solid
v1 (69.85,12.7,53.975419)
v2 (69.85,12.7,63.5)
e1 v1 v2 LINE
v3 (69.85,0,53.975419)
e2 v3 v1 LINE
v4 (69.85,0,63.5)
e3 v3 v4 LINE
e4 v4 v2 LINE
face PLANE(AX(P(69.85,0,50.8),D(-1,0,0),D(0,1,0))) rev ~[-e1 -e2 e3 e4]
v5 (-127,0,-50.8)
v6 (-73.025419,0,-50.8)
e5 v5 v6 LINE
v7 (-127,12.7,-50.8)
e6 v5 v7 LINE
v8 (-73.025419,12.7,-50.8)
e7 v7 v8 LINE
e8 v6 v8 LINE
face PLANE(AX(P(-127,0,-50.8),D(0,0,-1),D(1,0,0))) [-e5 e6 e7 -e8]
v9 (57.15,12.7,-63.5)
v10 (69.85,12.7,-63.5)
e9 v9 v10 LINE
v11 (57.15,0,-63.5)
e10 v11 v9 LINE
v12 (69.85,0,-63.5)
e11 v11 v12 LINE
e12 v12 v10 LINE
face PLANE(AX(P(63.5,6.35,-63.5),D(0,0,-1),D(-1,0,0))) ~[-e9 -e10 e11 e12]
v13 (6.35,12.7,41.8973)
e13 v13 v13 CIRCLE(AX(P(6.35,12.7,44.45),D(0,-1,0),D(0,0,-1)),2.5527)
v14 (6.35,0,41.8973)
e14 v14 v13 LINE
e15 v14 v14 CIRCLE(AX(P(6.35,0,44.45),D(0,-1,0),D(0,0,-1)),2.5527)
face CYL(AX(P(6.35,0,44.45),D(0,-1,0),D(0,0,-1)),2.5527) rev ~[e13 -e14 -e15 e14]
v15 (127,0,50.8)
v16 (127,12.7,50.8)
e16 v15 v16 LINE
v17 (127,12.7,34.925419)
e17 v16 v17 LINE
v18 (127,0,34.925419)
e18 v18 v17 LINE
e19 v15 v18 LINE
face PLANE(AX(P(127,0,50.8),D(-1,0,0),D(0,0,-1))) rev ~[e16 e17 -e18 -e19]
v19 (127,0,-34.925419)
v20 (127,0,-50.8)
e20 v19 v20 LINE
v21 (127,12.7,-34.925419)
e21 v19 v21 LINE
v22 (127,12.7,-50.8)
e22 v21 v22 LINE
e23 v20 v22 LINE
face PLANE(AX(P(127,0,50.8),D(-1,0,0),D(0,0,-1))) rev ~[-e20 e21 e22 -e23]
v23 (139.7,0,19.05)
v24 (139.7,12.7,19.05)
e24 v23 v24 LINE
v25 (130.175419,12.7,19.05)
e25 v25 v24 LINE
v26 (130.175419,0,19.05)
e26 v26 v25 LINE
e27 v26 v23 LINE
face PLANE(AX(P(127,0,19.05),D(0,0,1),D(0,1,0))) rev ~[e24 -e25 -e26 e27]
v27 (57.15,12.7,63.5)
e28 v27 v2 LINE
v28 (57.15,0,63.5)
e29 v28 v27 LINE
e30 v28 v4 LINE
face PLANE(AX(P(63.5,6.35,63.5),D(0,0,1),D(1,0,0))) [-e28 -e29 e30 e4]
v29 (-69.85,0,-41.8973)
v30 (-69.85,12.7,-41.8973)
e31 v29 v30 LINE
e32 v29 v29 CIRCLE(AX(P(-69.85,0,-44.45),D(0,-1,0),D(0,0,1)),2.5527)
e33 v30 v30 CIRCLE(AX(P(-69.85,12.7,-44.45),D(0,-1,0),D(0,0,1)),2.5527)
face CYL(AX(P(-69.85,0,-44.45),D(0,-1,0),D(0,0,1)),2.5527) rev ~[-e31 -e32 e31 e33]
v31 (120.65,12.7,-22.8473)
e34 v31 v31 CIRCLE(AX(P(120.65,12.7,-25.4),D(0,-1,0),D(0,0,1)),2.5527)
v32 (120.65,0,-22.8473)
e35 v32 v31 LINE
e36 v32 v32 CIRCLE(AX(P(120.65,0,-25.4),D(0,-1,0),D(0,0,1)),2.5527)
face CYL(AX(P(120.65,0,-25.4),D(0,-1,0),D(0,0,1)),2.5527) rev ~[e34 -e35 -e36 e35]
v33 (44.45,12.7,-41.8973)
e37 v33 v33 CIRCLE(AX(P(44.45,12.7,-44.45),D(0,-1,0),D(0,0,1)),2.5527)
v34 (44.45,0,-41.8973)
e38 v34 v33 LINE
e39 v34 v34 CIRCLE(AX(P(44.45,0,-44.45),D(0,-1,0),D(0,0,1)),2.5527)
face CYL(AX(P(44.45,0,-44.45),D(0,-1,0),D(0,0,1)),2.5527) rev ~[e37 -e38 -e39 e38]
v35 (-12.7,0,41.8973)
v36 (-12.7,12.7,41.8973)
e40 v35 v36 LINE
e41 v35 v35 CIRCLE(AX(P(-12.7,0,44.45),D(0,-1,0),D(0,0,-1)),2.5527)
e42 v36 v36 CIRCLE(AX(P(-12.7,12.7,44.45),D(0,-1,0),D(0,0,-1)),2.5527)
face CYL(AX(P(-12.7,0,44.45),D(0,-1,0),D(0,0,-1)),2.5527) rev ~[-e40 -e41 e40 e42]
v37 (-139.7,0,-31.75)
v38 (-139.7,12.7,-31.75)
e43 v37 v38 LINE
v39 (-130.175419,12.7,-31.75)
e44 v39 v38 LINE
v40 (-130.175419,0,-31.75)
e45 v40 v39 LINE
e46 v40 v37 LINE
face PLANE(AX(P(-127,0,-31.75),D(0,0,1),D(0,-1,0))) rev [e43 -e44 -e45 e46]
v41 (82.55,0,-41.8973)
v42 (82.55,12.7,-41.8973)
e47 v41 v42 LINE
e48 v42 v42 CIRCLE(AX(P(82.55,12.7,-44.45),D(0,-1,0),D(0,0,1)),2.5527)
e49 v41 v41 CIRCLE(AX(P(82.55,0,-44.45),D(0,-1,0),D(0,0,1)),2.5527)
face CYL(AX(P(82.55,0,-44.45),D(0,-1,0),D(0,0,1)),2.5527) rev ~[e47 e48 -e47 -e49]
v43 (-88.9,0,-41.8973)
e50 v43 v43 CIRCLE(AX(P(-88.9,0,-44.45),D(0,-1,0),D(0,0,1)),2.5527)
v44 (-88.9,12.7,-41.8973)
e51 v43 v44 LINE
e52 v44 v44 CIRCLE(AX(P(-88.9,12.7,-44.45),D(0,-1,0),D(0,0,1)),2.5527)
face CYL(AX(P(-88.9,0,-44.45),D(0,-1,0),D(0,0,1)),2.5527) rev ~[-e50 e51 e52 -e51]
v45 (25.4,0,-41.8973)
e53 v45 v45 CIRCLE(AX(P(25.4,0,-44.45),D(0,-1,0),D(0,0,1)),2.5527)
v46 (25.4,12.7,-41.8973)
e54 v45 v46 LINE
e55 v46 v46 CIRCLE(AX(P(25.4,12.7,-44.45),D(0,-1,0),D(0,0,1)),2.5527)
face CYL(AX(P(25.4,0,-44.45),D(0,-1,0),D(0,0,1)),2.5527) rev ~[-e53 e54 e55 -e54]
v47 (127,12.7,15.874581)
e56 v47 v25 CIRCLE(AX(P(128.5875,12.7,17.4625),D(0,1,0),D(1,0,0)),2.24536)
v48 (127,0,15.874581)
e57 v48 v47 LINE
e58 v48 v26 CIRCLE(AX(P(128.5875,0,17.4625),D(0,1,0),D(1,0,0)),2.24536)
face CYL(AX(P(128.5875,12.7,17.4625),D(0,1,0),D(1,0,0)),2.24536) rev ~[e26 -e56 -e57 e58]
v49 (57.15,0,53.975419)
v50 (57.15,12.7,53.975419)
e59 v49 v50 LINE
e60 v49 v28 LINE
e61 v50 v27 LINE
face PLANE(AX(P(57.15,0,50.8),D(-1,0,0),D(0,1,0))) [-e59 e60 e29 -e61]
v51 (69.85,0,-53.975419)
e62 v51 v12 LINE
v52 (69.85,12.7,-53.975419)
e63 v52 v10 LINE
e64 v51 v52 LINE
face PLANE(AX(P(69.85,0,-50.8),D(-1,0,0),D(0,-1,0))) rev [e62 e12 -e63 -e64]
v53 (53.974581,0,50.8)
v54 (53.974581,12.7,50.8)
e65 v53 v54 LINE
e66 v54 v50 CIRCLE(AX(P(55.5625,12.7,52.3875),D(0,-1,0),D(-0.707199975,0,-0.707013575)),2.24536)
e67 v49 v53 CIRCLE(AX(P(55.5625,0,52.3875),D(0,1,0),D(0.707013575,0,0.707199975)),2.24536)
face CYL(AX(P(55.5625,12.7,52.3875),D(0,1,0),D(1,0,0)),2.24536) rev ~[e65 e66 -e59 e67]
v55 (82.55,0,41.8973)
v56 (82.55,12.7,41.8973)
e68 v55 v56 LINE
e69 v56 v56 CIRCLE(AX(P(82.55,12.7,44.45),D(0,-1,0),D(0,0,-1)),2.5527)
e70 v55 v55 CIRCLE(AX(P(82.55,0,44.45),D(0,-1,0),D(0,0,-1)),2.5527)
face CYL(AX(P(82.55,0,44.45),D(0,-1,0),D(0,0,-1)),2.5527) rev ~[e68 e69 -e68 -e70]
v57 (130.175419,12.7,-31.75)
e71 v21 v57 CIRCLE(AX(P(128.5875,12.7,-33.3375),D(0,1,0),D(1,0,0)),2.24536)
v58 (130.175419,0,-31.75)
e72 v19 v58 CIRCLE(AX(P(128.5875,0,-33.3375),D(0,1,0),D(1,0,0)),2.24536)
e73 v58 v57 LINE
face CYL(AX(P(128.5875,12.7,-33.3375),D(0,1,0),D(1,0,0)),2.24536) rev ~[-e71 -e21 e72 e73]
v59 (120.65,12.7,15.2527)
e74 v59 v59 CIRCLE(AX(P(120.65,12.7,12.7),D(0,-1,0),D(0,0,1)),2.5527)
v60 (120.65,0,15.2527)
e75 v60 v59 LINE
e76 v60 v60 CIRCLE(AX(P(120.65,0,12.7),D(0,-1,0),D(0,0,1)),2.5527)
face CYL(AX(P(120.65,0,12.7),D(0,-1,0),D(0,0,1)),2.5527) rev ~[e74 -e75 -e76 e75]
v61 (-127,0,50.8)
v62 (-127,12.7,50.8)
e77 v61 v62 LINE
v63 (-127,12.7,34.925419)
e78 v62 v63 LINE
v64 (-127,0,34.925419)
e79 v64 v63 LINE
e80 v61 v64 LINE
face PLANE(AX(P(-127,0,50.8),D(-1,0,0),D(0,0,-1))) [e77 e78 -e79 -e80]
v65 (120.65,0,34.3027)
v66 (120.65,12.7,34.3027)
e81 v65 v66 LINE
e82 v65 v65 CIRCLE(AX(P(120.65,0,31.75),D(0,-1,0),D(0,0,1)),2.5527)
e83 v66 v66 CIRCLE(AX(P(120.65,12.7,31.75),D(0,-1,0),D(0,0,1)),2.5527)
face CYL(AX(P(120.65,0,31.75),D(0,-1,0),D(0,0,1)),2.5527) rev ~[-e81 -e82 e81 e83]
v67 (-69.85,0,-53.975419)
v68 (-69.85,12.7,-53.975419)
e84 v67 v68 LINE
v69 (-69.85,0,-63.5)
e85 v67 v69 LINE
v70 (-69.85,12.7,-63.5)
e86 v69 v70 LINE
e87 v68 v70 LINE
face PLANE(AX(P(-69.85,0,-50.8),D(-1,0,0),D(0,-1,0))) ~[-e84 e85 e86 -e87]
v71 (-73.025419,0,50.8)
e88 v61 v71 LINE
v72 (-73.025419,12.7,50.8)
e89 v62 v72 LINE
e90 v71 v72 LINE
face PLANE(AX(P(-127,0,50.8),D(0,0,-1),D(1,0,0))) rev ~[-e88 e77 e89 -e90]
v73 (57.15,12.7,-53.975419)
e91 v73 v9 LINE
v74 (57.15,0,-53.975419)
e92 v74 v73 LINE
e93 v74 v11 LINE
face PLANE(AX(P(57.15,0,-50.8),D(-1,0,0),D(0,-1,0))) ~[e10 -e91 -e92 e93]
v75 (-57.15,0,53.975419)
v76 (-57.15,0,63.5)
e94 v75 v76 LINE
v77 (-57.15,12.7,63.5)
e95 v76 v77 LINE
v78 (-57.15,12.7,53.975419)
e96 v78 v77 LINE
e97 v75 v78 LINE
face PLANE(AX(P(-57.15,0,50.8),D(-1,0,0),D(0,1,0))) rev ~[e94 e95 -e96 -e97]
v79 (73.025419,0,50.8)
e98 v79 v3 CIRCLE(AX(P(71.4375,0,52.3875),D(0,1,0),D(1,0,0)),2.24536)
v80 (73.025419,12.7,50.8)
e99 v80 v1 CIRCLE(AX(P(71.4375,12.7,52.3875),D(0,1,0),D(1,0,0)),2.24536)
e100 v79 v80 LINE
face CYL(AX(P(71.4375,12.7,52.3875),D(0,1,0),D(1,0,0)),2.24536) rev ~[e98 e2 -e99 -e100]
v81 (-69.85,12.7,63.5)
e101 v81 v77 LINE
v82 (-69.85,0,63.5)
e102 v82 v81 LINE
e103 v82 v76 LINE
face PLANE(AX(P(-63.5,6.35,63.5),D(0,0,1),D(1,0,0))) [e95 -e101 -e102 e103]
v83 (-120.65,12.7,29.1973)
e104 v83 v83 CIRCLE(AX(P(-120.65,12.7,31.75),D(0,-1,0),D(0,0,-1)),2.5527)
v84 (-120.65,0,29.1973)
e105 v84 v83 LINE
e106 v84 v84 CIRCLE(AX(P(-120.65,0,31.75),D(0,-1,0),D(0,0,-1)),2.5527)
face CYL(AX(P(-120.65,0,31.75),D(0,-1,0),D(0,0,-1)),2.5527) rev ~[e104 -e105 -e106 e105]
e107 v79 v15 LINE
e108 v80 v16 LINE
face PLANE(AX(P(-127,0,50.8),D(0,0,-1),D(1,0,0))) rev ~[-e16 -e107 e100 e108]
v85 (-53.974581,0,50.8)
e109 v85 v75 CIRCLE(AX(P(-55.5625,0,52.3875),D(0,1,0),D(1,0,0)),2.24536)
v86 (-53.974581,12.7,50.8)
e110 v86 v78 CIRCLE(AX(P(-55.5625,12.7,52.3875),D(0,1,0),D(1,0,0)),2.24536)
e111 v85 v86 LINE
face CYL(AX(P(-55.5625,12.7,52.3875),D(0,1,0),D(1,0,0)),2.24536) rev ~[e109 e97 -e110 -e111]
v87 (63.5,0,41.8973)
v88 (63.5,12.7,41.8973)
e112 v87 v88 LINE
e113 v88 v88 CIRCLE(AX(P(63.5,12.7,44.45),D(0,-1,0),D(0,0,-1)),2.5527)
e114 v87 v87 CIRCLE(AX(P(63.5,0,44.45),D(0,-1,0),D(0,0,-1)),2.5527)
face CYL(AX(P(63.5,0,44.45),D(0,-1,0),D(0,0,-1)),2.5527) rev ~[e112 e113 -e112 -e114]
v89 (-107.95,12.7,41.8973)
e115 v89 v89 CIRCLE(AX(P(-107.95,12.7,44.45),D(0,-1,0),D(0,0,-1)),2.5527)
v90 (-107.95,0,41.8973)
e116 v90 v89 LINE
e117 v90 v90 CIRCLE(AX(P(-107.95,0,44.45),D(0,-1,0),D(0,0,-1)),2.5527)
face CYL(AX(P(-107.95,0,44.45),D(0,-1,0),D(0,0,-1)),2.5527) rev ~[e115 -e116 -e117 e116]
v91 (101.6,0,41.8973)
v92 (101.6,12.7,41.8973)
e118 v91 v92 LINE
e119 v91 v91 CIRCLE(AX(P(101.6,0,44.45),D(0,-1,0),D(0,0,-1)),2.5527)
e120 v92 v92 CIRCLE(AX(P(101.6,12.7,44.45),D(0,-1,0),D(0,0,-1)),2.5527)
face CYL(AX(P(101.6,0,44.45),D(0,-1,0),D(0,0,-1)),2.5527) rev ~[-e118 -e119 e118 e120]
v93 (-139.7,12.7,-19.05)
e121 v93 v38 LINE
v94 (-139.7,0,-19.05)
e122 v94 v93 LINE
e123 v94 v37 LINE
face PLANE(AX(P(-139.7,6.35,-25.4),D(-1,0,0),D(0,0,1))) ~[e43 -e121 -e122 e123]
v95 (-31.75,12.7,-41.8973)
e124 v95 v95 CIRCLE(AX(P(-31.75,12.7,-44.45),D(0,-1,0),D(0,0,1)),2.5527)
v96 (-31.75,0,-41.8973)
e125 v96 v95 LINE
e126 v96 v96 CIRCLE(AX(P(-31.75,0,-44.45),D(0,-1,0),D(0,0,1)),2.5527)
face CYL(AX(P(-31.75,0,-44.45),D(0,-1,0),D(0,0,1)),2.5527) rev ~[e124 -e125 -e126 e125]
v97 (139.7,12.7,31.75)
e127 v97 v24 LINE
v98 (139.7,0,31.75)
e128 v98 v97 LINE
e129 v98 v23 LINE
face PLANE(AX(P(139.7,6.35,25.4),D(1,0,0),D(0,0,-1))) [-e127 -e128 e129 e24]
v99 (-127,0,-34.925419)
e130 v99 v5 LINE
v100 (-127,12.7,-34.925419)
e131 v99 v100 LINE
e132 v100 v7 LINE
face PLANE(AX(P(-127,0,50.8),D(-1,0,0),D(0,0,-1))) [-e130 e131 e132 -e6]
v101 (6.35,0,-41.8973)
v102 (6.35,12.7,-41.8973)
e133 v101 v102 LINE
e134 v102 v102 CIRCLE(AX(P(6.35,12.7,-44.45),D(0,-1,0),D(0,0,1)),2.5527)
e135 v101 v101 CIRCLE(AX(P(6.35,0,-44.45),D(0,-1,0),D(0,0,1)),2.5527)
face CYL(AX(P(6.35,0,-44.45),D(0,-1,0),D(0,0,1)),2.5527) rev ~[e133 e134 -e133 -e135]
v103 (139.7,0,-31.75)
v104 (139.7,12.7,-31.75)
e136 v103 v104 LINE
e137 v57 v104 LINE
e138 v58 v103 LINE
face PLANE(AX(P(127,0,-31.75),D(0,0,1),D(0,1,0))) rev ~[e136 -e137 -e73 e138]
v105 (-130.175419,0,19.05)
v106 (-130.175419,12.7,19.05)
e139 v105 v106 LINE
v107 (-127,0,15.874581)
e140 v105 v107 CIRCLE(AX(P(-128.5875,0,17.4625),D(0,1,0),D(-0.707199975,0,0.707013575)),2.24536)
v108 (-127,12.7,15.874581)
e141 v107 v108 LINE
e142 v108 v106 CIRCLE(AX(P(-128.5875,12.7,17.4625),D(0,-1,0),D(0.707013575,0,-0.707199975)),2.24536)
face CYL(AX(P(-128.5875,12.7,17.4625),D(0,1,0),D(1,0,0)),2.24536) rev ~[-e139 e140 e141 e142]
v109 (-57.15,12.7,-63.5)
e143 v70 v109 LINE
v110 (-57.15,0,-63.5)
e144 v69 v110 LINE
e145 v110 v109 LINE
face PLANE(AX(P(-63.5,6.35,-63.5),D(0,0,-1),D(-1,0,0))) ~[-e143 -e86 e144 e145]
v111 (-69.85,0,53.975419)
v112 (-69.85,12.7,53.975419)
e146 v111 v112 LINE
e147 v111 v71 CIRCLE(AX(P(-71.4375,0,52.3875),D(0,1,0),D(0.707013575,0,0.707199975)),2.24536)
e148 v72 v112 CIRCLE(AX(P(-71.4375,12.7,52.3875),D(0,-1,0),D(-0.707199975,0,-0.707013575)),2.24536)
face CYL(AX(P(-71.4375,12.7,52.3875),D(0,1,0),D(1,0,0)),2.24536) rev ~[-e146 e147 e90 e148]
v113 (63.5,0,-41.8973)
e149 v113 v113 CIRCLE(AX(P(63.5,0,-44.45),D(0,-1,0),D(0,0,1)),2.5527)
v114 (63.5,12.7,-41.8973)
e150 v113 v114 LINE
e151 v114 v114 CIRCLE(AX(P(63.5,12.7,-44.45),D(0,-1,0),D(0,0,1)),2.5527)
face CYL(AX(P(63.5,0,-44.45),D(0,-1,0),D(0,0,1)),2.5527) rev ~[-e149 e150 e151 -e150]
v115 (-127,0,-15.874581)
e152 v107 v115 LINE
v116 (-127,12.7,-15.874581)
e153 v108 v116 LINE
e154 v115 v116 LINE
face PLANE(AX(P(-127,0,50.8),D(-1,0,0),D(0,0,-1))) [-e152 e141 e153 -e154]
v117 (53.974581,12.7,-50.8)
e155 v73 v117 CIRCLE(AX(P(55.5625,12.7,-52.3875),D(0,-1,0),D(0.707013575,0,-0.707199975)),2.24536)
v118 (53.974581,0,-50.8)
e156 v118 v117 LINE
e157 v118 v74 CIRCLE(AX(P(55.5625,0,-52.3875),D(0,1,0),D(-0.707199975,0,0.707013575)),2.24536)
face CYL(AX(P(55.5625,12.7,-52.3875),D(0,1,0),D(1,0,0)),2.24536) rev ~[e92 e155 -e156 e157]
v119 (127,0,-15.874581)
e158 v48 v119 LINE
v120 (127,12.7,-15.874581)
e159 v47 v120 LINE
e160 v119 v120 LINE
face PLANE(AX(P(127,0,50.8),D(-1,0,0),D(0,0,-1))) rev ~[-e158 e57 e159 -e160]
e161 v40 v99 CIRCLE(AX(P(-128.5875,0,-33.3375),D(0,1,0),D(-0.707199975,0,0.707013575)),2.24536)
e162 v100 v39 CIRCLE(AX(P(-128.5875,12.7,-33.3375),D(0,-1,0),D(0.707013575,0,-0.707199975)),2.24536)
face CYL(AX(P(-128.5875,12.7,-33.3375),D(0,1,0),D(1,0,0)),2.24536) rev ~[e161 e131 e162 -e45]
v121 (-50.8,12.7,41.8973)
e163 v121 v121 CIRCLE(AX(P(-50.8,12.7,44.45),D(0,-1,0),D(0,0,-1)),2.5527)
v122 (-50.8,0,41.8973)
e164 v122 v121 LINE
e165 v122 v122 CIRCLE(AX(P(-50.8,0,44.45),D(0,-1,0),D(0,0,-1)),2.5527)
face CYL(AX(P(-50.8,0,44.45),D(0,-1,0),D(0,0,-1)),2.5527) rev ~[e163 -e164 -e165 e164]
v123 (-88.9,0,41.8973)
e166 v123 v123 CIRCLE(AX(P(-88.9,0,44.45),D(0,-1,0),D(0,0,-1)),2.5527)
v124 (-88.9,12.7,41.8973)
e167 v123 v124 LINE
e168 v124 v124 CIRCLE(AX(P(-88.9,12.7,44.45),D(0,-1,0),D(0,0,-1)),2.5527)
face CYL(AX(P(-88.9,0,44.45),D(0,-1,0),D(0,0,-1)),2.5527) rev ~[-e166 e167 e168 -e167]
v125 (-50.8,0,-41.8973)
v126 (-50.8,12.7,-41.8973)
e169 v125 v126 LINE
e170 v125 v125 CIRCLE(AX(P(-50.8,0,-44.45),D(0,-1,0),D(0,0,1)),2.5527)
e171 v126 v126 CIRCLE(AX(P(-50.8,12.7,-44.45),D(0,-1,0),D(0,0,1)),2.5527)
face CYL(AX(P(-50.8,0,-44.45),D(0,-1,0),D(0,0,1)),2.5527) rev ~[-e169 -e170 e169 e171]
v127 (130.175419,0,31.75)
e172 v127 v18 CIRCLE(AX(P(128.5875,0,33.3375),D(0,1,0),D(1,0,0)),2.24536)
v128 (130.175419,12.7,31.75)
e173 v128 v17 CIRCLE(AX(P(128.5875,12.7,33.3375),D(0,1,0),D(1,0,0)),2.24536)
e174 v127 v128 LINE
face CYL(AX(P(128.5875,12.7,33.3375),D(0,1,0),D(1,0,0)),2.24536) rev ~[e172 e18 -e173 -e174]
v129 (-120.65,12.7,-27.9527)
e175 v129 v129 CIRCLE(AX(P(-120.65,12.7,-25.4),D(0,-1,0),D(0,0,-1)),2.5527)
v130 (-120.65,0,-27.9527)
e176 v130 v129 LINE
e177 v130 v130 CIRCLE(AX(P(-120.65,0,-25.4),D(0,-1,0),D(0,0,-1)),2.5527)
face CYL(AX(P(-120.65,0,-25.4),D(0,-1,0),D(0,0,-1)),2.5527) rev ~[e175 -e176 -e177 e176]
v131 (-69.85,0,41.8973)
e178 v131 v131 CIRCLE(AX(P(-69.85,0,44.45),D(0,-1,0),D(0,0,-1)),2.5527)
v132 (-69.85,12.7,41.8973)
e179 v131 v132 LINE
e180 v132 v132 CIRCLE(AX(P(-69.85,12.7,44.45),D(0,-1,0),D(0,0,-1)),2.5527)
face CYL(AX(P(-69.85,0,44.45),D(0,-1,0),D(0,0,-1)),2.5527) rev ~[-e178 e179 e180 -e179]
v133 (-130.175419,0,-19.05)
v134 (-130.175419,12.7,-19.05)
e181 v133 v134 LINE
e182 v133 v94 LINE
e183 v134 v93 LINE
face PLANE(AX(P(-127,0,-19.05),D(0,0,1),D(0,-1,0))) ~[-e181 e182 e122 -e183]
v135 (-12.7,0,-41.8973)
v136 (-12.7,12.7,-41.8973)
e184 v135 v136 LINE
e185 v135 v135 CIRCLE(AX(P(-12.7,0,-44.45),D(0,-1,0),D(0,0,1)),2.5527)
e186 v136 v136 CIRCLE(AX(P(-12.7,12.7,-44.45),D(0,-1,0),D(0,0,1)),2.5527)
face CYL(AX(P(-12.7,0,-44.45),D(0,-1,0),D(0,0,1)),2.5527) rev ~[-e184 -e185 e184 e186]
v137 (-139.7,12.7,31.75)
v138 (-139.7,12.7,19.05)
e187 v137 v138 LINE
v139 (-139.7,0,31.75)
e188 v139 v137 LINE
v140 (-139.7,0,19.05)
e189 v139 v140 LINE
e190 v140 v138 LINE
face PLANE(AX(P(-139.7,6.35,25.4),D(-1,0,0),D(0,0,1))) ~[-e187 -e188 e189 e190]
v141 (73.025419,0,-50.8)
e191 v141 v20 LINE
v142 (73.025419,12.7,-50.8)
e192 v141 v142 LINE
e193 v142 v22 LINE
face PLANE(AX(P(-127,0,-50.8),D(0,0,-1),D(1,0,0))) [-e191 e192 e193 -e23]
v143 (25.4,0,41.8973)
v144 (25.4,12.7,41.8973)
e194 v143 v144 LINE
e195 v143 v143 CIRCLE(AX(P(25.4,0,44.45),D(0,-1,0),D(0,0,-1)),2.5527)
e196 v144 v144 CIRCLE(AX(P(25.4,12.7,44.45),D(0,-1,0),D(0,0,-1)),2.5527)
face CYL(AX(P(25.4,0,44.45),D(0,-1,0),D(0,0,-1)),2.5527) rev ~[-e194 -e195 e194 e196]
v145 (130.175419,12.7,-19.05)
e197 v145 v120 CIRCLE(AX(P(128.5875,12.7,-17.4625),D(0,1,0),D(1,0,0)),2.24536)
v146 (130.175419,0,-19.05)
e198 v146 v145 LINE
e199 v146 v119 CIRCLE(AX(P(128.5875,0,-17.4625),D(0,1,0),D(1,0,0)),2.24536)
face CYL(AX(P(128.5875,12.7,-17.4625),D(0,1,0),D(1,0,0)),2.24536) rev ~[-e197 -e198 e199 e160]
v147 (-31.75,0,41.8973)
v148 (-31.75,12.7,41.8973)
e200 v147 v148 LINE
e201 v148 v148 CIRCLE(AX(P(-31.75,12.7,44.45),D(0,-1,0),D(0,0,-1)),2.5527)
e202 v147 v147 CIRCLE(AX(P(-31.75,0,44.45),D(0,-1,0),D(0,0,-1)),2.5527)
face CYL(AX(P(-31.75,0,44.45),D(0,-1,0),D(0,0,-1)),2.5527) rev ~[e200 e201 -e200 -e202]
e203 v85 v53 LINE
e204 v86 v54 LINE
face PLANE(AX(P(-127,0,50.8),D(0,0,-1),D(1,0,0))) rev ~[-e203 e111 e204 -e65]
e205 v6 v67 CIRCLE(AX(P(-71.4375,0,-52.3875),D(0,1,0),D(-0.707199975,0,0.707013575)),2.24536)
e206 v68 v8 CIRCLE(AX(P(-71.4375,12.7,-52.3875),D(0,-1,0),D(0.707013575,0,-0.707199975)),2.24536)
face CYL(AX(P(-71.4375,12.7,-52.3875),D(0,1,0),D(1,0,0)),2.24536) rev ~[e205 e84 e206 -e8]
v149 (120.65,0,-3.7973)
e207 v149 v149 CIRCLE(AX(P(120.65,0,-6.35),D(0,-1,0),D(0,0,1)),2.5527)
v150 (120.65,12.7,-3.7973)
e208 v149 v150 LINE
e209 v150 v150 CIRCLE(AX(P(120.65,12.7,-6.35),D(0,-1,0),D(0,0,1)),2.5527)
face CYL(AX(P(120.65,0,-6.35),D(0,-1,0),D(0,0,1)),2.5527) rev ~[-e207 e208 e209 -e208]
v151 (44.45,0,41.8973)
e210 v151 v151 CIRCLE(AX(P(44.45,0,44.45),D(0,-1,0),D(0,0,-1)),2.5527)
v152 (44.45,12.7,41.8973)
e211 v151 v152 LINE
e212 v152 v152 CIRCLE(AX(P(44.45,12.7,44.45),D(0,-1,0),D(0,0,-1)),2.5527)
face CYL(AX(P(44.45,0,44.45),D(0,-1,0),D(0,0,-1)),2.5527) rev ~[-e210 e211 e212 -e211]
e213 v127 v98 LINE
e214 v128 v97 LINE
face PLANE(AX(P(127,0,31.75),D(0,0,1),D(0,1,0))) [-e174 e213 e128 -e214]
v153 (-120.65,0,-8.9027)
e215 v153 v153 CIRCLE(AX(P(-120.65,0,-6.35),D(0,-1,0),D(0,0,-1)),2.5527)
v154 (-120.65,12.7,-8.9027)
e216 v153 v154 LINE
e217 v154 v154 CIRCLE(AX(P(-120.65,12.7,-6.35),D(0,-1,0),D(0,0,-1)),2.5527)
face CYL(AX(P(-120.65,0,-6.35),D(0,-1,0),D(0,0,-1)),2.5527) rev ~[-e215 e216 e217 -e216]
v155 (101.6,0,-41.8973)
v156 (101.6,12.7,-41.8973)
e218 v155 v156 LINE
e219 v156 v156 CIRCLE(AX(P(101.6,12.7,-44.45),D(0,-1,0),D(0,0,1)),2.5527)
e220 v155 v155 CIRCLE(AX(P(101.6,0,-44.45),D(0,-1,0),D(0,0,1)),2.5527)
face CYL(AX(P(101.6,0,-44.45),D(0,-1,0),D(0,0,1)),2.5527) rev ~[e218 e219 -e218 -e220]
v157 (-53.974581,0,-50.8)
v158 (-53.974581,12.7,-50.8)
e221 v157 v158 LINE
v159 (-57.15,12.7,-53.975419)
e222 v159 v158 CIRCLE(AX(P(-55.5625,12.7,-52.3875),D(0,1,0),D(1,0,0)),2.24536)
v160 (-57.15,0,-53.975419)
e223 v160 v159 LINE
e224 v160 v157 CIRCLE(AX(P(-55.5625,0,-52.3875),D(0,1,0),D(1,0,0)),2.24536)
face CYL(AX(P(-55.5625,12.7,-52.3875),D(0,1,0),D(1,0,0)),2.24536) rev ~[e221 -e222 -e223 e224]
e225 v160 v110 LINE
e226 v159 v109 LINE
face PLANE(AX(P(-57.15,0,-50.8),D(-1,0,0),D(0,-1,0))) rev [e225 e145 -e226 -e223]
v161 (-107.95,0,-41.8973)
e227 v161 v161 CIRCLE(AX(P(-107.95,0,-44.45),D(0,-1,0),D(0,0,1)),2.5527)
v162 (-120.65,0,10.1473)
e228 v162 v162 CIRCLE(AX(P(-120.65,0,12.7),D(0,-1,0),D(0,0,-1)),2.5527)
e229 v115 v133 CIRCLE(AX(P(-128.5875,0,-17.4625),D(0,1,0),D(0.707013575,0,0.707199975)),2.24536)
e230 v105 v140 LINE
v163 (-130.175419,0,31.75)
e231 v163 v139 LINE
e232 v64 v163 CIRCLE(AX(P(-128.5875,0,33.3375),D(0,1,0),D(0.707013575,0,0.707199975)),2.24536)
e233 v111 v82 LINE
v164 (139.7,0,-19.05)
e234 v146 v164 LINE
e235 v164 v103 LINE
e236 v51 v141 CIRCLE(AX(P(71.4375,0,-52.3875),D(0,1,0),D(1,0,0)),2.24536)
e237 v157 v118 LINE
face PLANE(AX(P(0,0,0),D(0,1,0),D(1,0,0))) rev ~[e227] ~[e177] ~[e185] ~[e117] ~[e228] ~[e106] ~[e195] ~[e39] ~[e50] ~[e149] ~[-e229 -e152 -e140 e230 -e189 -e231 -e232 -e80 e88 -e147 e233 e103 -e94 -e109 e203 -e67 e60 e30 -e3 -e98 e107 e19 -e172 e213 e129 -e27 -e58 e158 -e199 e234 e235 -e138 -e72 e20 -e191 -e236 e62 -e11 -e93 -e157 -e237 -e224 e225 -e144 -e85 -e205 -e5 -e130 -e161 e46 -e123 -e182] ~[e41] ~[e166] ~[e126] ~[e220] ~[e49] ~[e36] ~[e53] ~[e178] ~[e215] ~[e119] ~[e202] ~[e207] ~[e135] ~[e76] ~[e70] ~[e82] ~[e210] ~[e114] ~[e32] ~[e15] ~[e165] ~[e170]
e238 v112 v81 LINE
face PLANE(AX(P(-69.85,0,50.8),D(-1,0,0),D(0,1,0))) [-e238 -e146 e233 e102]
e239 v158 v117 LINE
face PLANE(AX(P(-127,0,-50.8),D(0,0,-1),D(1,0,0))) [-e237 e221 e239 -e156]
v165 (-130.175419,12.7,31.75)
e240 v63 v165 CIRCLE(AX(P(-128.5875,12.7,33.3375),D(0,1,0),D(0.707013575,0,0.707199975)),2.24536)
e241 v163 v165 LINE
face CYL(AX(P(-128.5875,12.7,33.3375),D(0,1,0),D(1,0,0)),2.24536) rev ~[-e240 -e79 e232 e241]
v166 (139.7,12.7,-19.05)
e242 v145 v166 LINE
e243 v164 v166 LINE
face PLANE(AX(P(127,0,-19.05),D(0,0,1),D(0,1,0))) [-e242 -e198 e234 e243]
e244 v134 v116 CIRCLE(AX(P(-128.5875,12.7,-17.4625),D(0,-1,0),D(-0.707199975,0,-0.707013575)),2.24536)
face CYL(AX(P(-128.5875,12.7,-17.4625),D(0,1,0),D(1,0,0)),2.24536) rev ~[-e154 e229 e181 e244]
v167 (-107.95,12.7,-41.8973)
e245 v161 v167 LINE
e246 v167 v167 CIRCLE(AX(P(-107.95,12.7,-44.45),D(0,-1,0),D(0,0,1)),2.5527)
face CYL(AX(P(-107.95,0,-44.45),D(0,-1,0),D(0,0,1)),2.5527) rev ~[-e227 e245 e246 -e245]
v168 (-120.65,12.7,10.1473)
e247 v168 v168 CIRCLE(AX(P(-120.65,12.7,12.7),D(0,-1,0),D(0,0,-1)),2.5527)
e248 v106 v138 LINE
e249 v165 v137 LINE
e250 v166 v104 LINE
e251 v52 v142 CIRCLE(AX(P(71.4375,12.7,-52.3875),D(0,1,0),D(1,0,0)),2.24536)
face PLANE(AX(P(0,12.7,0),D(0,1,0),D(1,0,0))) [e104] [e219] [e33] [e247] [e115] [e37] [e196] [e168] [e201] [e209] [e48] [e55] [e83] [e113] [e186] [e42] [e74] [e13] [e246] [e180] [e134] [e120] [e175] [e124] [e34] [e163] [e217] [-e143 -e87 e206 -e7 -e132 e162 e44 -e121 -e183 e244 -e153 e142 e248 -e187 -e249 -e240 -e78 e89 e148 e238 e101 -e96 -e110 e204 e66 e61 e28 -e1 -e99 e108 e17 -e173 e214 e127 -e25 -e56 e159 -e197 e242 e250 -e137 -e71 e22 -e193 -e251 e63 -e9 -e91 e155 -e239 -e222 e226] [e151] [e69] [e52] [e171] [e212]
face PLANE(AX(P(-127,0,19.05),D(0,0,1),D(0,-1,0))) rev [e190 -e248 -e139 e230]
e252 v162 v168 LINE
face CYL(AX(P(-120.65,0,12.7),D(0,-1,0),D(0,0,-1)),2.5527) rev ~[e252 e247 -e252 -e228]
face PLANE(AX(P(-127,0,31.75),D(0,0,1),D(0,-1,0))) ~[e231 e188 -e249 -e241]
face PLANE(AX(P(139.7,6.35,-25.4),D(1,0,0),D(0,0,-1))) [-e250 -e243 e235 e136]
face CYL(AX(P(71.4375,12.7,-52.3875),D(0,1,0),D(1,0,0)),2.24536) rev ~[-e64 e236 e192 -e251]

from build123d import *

# Parameters (mm, degrees)
SKETCH2_W                  = 254
SKETCH2_H                  = 101.6
RECTANGLE_EXTRUSION_DEPTH  = 12.7
SKETCH4_W                  = 12.7
SKETCH4_H                  = 12.7
FRONT_FACE_TABS_DEPTH      = 12.7
SKETCH6_R                  = 2.24536
TAB_CURVE_FRONT_BACK_DEPTH = 12.7
SKETCH7_W                  = 12.7
SKETCH7_H                  = 12.7
RIGHT_FACE_TABS_DEPTH      = 12.7
SKETCH8_R                  = 2.24536
TAB_CURVE_LEFT_RIGHT_DEPTH = 12.7
SKETCH9_R                  = 2.5527
CUT_EXTRUDE1_DEPTH         = 154.979316793


with BuildPart() as part:
    # Sketch2 → Rectangle Extrusion (new body)
    with BuildSketch(Plane(origin=(0, 0, 0), x_dir=(1, 0, 0), z_dir=(0, 1, 0))):
        Rectangle(SKETCH2_W, SKETCH2_H)
    extrude(amount=RECTANGLE_EXTRUSION_DEPTH)

    # Sketch4 → Front Face Tabs (add)
    with BuildSketch(Plane.XY.offset(50.8)):
        with Locations((-63.5, 6.35)):
            Rectangle(SKETCH4_W, SKETCH4_H)
        with Locations((63.5, 6.35)):
            Rectangle(SKETCH4_W, SKETCH4_H)
    front_face_tabs = extrude(amount=FRONT_FACE_TABS_DEPTH)

    # Mirror Rear Face Tabs: Front Face Tabs across plane
    add(front_face_tabs.mirror(Plane.XY))

    # Sketch6 → Tab Curve Front Back (cut)
    with BuildSketch(Plane(origin=(0, 12.7, 0), x_dir=(1, 0, 0), z_dir=(0, 1, 0))):
        with Locations((-71.4375, 52.3875)):
            Circle(SKETCH6_R)
        with Locations((-55.5625, 52.3875)):
            Circle(SKETCH6_R)
        with Locations((55.5625, 52.3875)):
            Circle(SKETCH6_R)
        with Locations((71.4375, 52.3875)):
            Circle(SKETCH6_R)
        with Locations((71.4375, -52.3875)):
            Circle(SKETCH6_R)
        with Locations((55.5625, -52.3875)):
            Circle(SKETCH6_R)
        with Locations((-55.5625, -52.3875)):
            Circle(SKETCH6_R)
        with Locations((-71.4375, -52.3875)):
            Circle(SKETCH6_R)
    extrude(amount=-TAB_CURVE_FRONT_BACK_DEPTH, mode=Mode.SUBTRACT)

    # Sketch7 → Right Face Tabs (add)
    with BuildSketch(Plane(origin=(127, 0, 0), x_dir=(0, 0, -1), z_dir=(1, 0, 0))):
        with Locations((-25.4, 6.35)):
            Rectangle(SKETCH7_W, SKETCH7_H)
        with Locations((25.4, 6.35)):
            Rectangle(SKETCH7_W, SKETCH7_H)
    right_face_tabs = extrude(amount=RIGHT_FACE_TABS_DEPTH)

    # Mirror Left Face Tabs: Right Face Tabs across plane
    add(right_face_tabs.mirror(Plane(origin=(0, 0, 0), x_dir=(0, 0, 1), z_dir=(1, 0, 0))))

    # Sketch8 → Tab Curve Left Right (cut)
    with BuildSketch(Plane(origin=(0, 12.7, 0), x_dir=(1, 0, 0), z_dir=(0, 1, 0))):
        with Locations((128.5875, 33.3375)):
            Circle(SKETCH8_R)
        with Locations((128.5875, 17.4625)):
            Circle(SKETCH8_R)
        with Locations((128.5875, -17.4625)):
            Circle(SKETCH8_R)
        with Locations((128.5875, -33.3375)):
            Circle(SKETCH8_R)
        with Locations((-128.5875, -33.3375)):
            Circle(SKETCH8_R)
        with Locations((-128.5875, -17.4625)):
            Circle(SKETCH8_R)
        with Locations((-128.5875, 17.4625)):
            Circle(SKETCH8_R)
        with Locations((-128.5875, 33.3375)):
            Circle(SKETCH8_R)
    extrude(amount=-TAB_CURVE_LEFT_RIGHT_DEPTH, mode=Mode.SUBTRACT)

    # Sketch9 → Cut-Extrude1 (cut, through all)
    with BuildSketch(Plane.XZ):
        with Locations(Location((-107.95, 44.45, 0), (0, 0, 270))):
            Circle(SKETCH9_R)
        with Locations(Location((-120.65, 31.75, 0), (0, 0, 270))):
            Circle(SKETCH9_R)
        with Locations(Location((-120.65, 12.7, 0), (0, 0, 270))):
            Circle(SKETCH9_R)
        with Locations(Location((-120.65, -6.35, 0), (0, 0, 270))):
            Circle(SKETCH9_R)
        with Locations(Location((-120.65, -25.4, 0), (0, 0, 270))):
            Circle(SKETCH9_R)
        with Locations(Location((-88.9, 44.45, 0), (0, 0, 270))):
            Circle(SKETCH9_R)
        with Locations(Location((-69.85, 44.45, 0), (0, 0, 270))):
            Circle(SKETCH9_R)
        with Locations(Location((-50.8, 44.45, 0), (0, 0, 270))):
            Circle(SKETCH9_R)
        with Locations(Location((-31.75, 44.45, 0), (0, 0, 270))):
            Circle(SKETCH9_R)
        with Locations(Location((-12.7, 44.45, 0), (0, 0, 270))):
            Circle(SKETCH9_R)
        with Locations(Location((6.35, 44.45, 0), (0, 0, 270))):
            Circle(SKETCH9_R)
        with Locations(Location((25.4, 44.45, 0), (0, 0, 270))):
            Circle(SKETCH9_R)
        with Locations(Location((44.45, 44.45, 0), (0, 0, 270))):
            Circle(SKETCH9_R)
        with Locations(Location((63.5, 44.45, 0), (0, 0, 270))):
            Circle(SKETCH9_R)
        with Locations(Location((82.55, 44.45, 0), (0, 0, 270))):
            Circle(SKETCH9_R)
        with Locations(Location((101.6, 44.45, 0), (0, 0, 270))):
            Circle(SKETCH9_R)
        with Locations(Location((101.6, -44.45, 0), (0, 0, 90))):
            Circle(SKETCH9_R)
        with Locations(Location((82.55, -44.45, 0), (0, 0, 90))):
            Circle(SKETCH9_R)
        with Locations(Location((63.5, -44.45, 0), (0, 0, 90))):
            Circle(SKETCH9_R)
        with Locations(Location((44.45, -44.45, 0), (0, 0, 90))):
            Circle(SKETCH9_R)
        with Locations(Location((25.4, -44.45, 0), (0, 0, 90))):
            Circle(SKETCH9_R)
        with Locations(Location((6.35, -44.45, 0), (0, 0, 90))):
            Circle(SKETCH9_R)
        with Locations(Location((-12.7, -44.45, 0), (0, 0, 90))):
            Circle(SKETCH9_R)
        with Locations(Location((-31.75, -44.45, 0), (0, 0, 90))):
            Circle(SKETCH9_R)
        with Locations(Location((-50.8, -44.45, 0), (0, 0, 90))):
            Circle(SKETCH9_R)
        with Locations(Location((-69.85, -44.45, 0), (0, 0, 90))):
            Circle(SKETCH9_R)
        with Locations(Location((-88.9, -44.45, 0), (0, 0, 90))):
            Circle(SKETCH9_R)
        with Locations(Location((-107.95, -44.45, 0), (0, 0, 90))):
            Circle(SKETCH9_R)
        with Locations(Location((120.65, -25.4, 0), (0, 0, 90))):
            Circle(SKETCH9_R)
        with Locations(Location((120.65, -6.35, 0), (0, 0, 90))):
            Circle(SKETCH9_R)
        with Locations(Location((120.65, 12.7, 0), (0, 0, 90))):
            Circle(SKETCH9_R)
        with Locations(Location((120.65, 31.75, 0), (0, 0, 90))):
            Circle(SKETCH9_R)
    extrude(amount=-CUT_EXTRUDE1_DEPTH, mode=Mode.SUBTRACT)


solid = part.part
